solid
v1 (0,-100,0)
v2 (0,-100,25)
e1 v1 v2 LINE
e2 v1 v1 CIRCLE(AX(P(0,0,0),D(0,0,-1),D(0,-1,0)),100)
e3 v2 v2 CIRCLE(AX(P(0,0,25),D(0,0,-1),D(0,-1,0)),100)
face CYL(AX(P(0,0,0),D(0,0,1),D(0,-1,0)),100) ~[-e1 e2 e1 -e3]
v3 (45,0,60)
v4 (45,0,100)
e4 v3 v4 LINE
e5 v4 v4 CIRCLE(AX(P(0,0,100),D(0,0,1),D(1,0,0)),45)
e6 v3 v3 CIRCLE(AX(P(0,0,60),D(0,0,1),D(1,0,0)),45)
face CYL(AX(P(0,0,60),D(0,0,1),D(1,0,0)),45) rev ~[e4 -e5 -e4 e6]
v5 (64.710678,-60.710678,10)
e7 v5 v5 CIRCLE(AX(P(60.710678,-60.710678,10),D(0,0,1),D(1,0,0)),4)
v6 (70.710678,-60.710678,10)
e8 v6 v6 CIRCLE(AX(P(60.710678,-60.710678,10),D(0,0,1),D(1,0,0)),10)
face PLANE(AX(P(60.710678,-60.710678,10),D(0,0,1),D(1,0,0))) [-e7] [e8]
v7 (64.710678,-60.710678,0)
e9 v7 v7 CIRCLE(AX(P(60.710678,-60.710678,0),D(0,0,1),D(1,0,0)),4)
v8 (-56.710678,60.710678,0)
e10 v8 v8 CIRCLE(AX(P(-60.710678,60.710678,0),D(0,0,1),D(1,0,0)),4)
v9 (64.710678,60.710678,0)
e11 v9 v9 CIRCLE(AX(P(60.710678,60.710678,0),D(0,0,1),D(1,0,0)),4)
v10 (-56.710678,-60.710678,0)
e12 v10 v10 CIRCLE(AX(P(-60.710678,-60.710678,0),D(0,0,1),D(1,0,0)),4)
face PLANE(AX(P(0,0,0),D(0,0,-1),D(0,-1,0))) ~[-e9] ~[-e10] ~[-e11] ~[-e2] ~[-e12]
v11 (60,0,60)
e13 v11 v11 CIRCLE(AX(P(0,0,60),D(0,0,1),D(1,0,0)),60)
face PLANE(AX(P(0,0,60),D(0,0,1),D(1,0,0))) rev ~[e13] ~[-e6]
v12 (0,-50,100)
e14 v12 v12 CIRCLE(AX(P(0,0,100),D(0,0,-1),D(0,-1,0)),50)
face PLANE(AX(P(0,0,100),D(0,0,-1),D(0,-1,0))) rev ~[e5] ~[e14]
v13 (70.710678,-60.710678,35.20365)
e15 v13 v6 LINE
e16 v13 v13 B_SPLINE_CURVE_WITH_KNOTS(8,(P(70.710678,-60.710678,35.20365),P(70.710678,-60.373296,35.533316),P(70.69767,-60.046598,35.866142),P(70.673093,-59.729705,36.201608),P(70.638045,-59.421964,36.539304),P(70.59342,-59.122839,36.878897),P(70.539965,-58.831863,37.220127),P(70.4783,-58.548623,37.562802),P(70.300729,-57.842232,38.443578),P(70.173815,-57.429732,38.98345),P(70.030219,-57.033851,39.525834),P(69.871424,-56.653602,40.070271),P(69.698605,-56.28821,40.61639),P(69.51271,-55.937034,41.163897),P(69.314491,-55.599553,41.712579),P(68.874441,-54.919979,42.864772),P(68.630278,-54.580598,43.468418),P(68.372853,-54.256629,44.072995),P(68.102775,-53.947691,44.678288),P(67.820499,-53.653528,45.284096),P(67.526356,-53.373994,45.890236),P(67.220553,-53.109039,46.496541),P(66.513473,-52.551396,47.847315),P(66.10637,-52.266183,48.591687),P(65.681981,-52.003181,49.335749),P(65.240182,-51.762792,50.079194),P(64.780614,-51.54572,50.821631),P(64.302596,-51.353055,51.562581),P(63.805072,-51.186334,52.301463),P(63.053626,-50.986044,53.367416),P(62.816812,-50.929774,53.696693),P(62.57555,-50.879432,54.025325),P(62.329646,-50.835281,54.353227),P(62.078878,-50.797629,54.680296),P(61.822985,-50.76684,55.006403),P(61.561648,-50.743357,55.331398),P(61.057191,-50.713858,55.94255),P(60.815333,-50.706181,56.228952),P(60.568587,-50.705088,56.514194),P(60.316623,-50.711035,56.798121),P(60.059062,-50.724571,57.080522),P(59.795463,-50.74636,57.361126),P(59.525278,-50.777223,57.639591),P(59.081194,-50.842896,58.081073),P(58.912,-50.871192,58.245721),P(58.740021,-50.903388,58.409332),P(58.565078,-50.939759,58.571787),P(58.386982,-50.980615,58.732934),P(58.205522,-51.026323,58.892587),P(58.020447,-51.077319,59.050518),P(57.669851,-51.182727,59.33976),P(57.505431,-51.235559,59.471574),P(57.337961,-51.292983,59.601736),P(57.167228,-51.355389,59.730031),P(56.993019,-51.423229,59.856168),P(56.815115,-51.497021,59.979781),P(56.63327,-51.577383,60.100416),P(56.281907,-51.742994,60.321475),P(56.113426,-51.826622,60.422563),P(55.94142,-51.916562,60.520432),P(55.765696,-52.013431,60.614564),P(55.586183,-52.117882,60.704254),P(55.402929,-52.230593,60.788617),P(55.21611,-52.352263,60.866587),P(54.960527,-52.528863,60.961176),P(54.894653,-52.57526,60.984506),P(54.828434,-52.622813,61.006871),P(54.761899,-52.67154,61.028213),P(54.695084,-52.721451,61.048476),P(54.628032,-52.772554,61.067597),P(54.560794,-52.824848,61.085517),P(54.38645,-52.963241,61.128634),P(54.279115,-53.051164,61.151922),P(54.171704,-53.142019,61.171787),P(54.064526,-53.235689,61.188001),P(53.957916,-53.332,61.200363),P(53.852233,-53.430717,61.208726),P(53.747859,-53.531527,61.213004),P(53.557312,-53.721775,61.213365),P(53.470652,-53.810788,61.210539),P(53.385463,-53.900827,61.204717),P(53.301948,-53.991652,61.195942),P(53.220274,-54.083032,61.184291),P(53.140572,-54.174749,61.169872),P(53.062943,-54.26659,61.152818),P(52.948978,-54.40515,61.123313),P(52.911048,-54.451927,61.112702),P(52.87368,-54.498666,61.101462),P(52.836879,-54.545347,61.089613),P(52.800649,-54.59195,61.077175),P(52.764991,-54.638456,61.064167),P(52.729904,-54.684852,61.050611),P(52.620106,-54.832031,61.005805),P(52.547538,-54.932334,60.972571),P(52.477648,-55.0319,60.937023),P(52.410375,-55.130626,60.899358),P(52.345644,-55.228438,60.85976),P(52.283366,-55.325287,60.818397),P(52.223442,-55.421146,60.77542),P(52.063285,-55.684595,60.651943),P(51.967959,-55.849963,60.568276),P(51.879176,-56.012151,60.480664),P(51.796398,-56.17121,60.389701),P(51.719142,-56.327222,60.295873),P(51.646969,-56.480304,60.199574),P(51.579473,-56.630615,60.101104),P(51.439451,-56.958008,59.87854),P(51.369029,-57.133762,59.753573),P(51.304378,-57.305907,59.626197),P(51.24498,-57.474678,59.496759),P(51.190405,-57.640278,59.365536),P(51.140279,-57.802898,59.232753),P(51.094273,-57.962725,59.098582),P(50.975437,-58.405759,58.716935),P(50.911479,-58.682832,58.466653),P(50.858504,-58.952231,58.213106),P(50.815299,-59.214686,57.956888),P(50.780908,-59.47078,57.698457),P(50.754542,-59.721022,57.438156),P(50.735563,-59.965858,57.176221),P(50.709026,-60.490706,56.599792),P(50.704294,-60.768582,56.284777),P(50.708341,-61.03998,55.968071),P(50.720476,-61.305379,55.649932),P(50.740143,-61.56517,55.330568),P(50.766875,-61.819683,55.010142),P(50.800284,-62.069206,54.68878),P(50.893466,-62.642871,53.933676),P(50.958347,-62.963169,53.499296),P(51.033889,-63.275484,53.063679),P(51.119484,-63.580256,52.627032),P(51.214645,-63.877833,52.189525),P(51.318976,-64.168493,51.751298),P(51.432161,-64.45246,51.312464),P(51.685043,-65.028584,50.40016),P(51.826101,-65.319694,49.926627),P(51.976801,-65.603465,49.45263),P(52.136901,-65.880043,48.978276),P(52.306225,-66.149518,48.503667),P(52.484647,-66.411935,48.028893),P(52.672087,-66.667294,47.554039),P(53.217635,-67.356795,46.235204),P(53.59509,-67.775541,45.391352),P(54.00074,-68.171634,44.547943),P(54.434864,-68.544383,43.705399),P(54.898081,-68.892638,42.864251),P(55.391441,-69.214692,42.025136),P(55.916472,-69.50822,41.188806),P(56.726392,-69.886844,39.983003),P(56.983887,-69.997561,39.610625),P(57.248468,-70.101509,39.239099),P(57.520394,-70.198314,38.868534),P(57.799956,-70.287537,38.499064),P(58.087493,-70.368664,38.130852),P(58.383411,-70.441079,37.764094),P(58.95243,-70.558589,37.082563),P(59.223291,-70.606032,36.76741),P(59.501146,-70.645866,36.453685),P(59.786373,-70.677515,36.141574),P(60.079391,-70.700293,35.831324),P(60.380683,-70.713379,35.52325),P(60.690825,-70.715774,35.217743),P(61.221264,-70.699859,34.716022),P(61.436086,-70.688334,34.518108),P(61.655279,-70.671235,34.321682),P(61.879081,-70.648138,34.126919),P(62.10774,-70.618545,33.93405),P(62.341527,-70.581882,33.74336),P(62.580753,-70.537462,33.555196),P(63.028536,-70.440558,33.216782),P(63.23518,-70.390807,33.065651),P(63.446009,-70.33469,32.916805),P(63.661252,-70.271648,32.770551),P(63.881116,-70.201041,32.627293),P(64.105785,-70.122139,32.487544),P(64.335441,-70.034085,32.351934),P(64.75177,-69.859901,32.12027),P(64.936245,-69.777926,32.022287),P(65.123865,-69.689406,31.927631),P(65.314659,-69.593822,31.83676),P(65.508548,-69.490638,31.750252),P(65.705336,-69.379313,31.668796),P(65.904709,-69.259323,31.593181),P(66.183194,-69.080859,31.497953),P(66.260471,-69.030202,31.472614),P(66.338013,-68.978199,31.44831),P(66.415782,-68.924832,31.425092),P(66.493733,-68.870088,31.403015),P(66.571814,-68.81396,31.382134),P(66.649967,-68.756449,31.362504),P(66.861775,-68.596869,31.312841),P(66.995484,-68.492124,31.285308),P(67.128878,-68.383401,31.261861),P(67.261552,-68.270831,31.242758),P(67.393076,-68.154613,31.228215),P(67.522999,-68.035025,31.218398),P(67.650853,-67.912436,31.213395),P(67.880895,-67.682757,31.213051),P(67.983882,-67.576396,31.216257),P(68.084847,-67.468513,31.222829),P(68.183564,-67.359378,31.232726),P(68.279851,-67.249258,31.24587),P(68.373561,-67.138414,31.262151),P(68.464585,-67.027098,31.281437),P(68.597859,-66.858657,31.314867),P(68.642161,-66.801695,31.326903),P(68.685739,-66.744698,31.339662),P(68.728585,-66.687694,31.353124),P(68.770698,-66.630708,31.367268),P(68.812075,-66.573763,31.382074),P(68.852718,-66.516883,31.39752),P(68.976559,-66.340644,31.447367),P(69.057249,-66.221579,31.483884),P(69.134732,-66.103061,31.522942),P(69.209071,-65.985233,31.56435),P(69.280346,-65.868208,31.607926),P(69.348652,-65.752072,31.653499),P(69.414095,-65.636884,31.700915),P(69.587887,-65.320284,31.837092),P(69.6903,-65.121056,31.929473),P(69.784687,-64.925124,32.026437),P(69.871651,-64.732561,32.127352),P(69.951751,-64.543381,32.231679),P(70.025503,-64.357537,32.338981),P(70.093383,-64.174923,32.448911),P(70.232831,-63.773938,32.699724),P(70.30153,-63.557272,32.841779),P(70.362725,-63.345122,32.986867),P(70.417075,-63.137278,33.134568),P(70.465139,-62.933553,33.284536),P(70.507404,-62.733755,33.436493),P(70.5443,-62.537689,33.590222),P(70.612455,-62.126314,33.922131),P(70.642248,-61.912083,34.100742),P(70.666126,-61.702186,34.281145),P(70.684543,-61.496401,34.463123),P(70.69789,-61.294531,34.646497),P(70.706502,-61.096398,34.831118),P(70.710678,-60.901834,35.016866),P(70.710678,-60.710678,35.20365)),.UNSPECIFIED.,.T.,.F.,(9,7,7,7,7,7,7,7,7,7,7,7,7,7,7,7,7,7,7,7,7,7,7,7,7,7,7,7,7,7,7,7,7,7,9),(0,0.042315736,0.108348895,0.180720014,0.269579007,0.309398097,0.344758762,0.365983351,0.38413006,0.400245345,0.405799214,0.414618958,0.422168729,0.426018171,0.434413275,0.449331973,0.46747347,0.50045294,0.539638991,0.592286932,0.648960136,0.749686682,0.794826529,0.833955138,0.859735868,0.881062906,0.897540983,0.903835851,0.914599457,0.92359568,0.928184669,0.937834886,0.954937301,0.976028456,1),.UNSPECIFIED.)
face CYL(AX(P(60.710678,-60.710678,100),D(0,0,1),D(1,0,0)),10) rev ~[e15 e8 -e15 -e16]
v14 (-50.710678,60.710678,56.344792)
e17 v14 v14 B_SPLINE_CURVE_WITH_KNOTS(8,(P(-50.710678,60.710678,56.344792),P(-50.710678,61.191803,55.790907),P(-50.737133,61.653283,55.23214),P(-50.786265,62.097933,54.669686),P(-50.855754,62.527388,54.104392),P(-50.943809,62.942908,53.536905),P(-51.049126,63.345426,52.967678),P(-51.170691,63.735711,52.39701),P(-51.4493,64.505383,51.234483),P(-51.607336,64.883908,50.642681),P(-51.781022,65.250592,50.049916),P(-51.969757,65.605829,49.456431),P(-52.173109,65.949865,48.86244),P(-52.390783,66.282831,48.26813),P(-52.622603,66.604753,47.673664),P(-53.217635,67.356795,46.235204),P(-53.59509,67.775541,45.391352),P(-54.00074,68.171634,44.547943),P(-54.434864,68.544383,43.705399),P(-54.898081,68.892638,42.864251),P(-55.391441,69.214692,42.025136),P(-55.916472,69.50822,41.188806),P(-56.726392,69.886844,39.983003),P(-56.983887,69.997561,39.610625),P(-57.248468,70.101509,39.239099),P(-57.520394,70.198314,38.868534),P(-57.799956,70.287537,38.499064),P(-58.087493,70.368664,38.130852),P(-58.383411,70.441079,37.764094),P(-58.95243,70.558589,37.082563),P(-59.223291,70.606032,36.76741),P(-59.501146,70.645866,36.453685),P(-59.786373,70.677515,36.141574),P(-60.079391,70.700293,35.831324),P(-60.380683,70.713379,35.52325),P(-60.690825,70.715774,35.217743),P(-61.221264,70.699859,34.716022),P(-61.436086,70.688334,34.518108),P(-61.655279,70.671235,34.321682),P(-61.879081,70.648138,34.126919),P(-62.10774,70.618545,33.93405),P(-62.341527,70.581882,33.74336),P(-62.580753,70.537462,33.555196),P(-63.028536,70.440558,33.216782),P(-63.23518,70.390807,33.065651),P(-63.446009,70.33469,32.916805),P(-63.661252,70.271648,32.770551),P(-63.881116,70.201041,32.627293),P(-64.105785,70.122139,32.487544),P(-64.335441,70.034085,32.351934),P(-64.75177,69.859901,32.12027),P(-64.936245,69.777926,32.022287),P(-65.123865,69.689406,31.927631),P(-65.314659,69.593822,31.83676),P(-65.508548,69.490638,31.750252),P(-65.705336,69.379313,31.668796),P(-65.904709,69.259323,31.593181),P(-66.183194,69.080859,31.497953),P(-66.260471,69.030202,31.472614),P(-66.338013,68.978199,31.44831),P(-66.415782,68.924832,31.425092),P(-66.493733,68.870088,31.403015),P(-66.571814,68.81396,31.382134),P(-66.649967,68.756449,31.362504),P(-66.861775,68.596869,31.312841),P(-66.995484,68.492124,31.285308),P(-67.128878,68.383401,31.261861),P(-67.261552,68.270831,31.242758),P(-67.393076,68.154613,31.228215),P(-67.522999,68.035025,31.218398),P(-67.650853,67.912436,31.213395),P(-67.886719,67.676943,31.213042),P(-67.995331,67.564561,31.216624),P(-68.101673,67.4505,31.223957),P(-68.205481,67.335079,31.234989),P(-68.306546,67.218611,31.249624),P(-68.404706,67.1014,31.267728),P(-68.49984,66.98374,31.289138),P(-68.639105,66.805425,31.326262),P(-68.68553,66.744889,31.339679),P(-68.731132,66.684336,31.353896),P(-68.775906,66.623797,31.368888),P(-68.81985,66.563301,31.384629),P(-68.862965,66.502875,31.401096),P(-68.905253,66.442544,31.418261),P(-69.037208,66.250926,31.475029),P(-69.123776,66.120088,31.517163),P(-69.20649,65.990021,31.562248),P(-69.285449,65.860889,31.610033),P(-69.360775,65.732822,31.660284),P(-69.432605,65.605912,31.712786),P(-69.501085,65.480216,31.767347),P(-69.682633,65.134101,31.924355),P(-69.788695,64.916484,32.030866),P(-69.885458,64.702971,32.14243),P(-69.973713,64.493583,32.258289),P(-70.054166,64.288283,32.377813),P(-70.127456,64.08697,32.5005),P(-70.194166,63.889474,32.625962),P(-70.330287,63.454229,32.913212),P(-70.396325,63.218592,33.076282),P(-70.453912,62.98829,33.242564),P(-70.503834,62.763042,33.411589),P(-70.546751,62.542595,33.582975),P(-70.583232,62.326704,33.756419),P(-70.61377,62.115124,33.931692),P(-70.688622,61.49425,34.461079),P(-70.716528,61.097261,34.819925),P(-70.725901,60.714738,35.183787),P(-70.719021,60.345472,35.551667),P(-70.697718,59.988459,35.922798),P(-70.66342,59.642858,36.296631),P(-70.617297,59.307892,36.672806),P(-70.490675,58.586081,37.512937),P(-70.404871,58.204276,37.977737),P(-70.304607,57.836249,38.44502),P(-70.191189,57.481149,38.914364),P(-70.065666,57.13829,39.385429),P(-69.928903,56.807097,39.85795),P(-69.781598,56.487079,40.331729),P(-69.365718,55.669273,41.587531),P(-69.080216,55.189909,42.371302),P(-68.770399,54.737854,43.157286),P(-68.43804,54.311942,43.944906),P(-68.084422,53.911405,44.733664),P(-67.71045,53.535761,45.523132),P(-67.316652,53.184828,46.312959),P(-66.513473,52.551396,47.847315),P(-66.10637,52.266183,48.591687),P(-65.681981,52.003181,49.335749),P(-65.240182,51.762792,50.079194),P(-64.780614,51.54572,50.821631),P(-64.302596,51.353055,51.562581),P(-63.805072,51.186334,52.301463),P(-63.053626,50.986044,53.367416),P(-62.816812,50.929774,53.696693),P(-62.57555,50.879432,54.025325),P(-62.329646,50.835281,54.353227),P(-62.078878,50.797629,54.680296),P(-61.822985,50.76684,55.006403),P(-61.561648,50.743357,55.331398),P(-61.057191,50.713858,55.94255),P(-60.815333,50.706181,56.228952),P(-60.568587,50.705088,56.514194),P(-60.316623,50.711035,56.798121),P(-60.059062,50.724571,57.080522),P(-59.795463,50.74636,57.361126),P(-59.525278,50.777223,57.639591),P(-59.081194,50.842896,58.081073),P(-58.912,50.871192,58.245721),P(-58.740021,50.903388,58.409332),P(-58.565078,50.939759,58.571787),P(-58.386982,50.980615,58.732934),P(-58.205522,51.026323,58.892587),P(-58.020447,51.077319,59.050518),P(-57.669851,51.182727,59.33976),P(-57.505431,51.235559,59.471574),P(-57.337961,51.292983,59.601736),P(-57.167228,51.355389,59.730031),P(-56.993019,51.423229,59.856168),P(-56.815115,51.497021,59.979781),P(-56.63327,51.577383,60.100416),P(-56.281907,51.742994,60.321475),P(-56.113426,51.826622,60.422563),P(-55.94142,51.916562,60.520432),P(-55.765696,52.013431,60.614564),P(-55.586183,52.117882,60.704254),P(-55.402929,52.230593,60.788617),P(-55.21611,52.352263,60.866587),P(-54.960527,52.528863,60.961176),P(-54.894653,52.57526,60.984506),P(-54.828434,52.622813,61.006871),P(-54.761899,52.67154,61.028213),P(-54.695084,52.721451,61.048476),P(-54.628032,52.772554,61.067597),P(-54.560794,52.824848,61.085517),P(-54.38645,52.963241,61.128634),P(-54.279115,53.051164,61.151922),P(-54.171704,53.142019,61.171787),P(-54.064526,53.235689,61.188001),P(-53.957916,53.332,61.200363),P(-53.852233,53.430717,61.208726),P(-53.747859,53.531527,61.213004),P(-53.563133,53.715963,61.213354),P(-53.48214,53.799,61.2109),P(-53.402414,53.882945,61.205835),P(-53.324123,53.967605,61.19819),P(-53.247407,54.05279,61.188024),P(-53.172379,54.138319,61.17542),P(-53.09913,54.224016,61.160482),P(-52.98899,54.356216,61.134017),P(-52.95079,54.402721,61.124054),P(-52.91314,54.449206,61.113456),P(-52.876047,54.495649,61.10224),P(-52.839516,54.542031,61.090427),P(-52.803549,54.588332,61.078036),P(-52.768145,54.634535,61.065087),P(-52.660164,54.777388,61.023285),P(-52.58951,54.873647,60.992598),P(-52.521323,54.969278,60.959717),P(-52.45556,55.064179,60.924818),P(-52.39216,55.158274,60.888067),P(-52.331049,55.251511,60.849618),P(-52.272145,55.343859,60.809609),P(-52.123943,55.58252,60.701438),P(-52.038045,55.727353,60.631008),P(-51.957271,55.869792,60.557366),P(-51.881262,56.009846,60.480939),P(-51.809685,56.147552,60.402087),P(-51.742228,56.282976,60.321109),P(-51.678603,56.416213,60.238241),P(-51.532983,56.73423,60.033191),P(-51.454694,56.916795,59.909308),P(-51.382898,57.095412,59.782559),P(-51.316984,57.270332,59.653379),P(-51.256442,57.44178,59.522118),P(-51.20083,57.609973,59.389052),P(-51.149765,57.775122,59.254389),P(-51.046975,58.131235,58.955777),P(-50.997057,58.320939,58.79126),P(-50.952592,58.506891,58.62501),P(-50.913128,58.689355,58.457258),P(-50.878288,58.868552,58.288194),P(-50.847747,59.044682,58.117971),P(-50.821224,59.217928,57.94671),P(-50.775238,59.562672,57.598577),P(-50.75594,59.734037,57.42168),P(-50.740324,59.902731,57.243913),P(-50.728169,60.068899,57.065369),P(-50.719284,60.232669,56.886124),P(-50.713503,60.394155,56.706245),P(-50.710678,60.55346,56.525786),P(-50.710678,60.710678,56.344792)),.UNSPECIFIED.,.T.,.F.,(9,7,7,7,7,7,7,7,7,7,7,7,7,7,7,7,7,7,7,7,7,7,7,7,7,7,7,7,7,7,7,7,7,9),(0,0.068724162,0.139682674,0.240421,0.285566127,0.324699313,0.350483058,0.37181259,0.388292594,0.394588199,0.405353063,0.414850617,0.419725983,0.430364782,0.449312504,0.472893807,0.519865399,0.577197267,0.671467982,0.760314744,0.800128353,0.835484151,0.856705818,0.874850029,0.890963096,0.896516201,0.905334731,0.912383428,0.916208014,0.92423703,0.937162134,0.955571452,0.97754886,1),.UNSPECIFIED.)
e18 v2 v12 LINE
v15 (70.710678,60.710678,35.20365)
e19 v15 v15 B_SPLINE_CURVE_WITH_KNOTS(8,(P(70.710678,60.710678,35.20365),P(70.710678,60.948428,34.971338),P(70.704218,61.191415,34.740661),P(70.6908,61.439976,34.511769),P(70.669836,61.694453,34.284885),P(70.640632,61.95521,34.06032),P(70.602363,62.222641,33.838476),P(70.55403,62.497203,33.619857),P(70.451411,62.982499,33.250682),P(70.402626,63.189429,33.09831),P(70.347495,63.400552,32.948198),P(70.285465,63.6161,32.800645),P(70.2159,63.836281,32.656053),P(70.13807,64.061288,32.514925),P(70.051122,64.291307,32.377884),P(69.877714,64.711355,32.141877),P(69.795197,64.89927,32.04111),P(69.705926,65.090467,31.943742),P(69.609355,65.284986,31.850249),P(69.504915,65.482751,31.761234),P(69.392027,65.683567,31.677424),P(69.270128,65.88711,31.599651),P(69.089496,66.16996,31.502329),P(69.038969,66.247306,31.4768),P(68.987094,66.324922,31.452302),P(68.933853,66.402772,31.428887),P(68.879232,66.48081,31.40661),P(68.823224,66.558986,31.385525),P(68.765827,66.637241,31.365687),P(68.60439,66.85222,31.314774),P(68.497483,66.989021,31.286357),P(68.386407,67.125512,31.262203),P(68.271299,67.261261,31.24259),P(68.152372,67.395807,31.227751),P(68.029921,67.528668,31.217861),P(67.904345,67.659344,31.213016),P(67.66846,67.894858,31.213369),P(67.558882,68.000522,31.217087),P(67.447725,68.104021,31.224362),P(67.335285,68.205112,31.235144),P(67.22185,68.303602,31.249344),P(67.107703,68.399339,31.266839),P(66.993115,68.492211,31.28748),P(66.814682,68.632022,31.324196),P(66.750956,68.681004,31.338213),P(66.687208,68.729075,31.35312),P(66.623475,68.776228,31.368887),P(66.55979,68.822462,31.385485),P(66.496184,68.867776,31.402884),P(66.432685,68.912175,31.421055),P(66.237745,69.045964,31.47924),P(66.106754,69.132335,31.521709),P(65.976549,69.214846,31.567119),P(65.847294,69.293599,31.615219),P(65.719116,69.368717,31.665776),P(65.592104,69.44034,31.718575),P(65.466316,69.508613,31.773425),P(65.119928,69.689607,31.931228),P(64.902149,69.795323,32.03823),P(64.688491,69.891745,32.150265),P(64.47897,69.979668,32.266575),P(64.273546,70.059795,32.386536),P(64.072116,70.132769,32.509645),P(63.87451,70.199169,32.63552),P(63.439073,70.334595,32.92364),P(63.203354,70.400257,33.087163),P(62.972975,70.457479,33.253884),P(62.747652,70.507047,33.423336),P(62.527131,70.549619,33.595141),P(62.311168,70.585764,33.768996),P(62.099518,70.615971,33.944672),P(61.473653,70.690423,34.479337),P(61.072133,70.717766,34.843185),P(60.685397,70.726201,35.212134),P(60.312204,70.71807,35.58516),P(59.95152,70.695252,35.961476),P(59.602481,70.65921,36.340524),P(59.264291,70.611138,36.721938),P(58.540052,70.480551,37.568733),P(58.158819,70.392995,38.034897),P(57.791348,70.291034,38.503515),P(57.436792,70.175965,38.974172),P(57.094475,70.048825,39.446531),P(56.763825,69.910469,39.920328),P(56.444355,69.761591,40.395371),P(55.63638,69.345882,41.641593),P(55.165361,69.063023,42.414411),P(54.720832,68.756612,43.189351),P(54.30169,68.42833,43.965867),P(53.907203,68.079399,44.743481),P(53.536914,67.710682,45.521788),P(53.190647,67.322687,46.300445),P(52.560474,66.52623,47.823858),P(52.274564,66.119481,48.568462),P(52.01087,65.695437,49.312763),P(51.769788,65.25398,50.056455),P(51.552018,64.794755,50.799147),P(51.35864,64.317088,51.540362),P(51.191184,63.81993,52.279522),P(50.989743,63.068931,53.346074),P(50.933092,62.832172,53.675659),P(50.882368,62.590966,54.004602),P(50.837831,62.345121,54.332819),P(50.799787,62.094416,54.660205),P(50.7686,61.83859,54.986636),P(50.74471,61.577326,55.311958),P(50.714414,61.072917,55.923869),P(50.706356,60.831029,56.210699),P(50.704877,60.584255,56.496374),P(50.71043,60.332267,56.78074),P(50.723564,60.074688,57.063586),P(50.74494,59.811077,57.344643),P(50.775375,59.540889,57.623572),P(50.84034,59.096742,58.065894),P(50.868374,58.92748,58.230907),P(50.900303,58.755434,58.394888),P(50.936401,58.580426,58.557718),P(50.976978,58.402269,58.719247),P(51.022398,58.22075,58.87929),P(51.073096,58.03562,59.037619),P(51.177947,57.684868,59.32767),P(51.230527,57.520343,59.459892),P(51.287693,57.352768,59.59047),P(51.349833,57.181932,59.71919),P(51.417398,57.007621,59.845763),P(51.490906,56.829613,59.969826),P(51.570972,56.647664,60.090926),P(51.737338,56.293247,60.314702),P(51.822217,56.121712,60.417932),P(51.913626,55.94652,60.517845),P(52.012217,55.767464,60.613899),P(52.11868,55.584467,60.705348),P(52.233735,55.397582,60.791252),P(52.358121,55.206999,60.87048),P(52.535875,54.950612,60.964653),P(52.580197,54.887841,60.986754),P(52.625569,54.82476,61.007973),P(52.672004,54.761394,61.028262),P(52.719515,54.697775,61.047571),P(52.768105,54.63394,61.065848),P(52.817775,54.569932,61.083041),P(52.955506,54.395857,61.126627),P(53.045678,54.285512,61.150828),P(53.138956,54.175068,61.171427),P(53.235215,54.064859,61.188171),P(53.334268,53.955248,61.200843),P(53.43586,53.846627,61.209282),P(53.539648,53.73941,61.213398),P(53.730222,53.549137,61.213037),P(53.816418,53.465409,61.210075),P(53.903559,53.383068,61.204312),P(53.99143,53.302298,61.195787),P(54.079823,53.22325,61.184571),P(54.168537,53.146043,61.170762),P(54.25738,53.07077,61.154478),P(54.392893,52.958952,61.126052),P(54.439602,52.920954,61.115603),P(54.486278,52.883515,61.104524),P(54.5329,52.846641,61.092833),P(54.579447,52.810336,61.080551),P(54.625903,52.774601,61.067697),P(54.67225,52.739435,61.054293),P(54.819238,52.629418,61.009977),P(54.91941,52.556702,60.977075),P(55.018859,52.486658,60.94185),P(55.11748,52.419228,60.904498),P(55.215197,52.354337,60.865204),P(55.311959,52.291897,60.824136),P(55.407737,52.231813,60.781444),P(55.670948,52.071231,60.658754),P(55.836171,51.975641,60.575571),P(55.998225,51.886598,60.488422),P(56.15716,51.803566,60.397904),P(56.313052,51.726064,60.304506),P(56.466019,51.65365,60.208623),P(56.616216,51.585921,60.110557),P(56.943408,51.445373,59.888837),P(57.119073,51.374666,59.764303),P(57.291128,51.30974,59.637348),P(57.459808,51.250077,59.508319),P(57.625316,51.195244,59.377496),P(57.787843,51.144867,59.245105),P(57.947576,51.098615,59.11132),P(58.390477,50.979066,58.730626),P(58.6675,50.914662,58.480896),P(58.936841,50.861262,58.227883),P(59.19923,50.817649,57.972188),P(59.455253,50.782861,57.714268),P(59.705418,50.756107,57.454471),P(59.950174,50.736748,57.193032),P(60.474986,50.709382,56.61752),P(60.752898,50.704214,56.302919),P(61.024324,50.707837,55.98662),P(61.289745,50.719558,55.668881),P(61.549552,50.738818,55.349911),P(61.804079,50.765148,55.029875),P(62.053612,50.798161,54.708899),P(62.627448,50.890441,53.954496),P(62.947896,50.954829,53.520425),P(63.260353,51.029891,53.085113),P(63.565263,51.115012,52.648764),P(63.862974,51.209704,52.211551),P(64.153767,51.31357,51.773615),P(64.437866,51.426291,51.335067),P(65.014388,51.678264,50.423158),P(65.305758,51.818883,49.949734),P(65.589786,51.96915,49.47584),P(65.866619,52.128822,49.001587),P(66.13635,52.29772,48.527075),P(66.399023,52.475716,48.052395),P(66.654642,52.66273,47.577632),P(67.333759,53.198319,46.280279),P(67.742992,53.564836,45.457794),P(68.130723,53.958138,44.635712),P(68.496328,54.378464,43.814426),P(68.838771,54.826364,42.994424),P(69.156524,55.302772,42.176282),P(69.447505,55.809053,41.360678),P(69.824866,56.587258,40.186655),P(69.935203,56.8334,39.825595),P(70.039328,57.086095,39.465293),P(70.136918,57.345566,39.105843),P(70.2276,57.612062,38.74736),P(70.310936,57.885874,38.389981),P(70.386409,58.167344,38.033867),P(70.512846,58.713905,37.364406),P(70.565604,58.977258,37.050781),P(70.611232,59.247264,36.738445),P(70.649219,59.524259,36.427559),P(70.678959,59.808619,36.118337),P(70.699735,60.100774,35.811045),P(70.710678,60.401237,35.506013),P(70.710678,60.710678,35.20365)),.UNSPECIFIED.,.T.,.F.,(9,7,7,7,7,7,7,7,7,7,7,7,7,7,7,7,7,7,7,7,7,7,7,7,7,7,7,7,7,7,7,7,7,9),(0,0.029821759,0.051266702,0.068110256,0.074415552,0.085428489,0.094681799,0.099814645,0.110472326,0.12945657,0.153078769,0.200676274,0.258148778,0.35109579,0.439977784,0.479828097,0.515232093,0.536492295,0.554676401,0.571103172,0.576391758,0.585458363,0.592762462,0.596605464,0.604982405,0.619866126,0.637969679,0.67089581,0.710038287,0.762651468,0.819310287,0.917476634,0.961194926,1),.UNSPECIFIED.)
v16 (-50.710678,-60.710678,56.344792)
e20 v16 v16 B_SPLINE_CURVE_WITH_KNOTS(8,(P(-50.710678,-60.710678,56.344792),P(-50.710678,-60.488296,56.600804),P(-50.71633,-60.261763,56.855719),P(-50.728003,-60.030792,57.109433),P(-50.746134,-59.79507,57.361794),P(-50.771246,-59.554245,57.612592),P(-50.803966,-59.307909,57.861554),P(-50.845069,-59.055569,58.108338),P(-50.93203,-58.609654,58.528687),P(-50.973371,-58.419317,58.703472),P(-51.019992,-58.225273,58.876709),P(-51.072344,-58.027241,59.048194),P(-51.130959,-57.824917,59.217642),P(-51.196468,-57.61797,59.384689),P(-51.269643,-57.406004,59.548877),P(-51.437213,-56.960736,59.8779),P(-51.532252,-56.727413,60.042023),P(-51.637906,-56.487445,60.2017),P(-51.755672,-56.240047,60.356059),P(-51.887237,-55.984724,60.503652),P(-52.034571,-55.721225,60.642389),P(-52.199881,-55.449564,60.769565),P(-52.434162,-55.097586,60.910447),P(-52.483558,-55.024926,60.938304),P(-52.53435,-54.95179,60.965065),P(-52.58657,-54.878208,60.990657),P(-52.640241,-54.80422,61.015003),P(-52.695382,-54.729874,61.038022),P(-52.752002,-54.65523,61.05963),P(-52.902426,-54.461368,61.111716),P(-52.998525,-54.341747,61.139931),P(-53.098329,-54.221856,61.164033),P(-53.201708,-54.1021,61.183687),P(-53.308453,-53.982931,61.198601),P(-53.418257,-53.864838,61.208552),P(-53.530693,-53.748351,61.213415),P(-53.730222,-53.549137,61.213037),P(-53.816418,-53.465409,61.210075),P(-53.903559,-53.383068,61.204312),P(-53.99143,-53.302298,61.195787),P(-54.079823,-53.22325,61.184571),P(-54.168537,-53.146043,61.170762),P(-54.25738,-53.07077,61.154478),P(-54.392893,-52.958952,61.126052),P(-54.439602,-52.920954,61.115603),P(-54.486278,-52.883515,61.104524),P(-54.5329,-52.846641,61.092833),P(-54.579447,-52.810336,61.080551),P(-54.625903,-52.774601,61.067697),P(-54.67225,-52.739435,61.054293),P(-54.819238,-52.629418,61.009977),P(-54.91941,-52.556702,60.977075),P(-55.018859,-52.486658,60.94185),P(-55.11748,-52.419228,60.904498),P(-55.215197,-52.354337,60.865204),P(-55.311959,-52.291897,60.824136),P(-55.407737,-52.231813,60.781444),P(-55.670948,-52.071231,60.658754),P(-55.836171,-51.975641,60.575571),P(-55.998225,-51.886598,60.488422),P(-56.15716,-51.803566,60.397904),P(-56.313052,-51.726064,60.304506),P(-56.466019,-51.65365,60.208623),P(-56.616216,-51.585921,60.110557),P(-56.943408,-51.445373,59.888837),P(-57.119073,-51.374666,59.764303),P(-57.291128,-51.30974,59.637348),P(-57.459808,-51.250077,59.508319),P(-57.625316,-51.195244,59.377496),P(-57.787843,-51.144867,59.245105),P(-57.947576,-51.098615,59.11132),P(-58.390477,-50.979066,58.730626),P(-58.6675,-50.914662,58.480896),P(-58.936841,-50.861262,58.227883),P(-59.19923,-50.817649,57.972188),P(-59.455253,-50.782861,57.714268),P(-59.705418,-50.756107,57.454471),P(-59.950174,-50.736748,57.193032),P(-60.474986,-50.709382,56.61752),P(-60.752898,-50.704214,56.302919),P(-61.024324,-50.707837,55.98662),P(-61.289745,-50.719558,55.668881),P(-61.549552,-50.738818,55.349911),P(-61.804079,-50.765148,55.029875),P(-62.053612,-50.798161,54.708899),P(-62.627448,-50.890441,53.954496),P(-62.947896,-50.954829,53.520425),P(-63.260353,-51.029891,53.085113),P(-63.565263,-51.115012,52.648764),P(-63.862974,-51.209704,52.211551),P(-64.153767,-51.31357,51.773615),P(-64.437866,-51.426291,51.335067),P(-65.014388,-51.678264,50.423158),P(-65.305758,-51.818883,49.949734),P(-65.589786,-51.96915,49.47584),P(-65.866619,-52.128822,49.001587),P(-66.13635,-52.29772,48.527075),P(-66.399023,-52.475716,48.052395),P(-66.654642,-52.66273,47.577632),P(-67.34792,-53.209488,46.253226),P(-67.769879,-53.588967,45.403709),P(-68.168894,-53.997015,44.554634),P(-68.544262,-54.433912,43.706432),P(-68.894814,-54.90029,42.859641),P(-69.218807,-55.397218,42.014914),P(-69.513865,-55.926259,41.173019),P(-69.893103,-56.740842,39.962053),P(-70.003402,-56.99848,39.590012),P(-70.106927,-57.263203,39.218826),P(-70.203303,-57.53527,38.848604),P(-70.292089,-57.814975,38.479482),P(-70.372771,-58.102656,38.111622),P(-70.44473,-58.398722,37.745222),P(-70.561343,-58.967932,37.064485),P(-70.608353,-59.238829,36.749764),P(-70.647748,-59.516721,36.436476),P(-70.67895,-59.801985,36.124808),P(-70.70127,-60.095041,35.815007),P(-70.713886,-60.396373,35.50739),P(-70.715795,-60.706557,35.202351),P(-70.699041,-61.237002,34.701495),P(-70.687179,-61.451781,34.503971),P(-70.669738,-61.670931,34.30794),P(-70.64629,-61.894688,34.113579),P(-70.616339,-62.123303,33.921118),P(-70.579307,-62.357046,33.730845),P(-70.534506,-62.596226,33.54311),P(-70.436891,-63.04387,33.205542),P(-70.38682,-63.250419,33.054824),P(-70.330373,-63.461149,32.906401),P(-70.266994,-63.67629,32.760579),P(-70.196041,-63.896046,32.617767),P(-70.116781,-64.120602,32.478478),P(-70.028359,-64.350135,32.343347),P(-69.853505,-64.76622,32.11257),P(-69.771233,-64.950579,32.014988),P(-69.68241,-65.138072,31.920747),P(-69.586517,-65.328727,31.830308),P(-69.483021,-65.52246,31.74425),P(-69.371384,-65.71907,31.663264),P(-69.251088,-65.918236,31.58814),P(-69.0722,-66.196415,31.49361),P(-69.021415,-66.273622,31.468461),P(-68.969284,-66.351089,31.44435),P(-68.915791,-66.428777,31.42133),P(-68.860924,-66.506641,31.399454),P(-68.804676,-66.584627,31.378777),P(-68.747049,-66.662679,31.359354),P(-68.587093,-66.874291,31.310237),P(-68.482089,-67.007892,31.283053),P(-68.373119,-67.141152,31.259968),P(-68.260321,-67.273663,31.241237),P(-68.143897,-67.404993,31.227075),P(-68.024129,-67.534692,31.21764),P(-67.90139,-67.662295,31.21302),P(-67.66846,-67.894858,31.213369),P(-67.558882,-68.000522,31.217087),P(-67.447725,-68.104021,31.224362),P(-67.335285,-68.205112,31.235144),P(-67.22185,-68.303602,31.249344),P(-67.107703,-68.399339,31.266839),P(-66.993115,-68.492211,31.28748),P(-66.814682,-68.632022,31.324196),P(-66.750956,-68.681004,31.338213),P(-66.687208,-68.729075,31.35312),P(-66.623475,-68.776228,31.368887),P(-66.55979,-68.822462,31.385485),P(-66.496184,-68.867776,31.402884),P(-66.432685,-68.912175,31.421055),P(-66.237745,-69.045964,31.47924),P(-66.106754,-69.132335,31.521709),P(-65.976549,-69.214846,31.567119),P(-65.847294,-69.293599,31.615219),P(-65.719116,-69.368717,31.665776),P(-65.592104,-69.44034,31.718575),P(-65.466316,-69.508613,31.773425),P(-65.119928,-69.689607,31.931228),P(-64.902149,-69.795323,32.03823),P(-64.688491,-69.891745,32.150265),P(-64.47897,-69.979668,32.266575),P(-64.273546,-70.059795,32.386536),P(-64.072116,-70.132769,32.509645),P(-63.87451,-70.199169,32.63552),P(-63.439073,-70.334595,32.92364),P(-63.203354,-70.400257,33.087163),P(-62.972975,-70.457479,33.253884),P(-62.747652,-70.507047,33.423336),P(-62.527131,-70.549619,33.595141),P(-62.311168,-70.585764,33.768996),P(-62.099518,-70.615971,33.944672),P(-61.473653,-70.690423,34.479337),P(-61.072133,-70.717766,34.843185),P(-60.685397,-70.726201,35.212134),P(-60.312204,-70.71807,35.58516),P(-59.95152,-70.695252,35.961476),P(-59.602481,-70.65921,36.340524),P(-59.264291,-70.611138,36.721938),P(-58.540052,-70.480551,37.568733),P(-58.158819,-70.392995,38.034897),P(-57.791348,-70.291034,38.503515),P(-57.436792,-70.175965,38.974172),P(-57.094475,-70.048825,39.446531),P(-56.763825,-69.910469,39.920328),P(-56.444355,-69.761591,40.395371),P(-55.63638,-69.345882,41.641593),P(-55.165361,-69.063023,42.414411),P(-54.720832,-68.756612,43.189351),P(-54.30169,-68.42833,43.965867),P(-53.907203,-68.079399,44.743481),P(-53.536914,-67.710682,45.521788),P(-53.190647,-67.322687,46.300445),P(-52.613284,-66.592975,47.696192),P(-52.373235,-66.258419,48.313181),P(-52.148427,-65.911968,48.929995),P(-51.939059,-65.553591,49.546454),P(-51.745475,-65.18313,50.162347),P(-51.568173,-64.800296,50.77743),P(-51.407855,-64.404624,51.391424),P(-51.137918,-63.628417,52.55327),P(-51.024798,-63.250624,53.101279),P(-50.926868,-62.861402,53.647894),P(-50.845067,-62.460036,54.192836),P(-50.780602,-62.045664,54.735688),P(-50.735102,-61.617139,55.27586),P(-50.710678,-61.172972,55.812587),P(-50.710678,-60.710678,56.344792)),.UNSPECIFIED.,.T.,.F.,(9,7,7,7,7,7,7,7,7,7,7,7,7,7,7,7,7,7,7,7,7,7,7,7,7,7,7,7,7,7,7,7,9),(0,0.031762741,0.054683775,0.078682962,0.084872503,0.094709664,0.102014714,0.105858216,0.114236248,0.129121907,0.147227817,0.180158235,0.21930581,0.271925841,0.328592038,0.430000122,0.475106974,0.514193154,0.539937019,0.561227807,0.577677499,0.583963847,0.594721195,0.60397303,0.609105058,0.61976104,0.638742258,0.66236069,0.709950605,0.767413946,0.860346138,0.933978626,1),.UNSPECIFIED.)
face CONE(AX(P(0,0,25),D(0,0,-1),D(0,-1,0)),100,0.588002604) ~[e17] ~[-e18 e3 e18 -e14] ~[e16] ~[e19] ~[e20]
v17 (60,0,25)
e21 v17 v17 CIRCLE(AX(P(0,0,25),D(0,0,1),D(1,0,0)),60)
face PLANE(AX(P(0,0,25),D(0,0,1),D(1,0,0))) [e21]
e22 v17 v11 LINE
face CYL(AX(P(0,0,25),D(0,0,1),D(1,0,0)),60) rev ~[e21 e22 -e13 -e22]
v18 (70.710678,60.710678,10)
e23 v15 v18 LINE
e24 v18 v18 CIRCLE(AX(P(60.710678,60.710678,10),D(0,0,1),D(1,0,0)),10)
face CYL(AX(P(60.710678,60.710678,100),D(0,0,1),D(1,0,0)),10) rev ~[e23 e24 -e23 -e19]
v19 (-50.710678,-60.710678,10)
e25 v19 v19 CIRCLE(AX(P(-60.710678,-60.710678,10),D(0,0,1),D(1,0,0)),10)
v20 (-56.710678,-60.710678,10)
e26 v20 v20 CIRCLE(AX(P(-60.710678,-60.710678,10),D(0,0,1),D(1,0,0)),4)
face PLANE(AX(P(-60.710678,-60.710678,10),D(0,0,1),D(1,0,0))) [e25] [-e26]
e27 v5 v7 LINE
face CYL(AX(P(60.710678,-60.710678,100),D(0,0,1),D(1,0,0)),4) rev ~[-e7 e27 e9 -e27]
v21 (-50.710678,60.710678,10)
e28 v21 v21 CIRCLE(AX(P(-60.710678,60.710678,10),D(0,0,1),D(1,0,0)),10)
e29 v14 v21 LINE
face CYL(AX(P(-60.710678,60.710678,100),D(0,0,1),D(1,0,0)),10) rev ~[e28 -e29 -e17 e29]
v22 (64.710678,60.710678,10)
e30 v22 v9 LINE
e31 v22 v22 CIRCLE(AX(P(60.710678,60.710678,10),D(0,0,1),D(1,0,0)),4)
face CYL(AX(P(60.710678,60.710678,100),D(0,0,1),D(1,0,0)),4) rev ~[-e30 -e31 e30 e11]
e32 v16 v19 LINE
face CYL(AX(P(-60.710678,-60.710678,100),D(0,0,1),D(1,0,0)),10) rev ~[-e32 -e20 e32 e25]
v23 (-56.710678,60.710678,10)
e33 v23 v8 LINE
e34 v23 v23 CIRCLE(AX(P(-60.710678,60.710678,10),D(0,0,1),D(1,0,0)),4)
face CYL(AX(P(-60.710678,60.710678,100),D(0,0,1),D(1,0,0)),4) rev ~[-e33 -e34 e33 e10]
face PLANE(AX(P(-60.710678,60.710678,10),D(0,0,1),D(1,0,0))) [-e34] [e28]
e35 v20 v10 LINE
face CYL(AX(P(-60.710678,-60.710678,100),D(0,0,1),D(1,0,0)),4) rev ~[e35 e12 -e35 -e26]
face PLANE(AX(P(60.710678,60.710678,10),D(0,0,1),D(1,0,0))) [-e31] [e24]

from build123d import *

# Parameters (mm, degrees)
SKETCH8_R          = 4
CUT_EXTRUDE1_DEPTH = 121
SKETCH8_9_R        = 10
CUT_EXTRUDE2_DEPTH = 90


with BuildPart() as part:
    # Sketch6 → Revolve1 (revolve)
    with BuildSketch(Plane.YZ):
        Polygon((0, 0), (-100, 0), (-100, 25), (-50, 100), (0, 100), align=None)
    revolve(axis=Axis((0, 0, 100), (0, 0, -1)))

    # Sketch7 → Cut-Revolve1 (revolve, cut)
    with BuildSketch(Plane(origin=(0, 0, 0), x_dir=(-1, 0, 0), z_dir=(0, 1, 0))):
        Polygon((0, 25), (-45, 25), (-60, 25), (-60, 60), (-45, 60), (-45, 100), (0, 100), align=None)
    revolve(axis=Axis((0, 0, 25), (0, 0, 1)), mode=Mode.SUBTRACT)

    # Sketch8 → Cut-Extrude1 (cut)
    with BuildSketch(Plane.XY.offset(100)):
        with Locations((-60.710678119, 60.710678119)):
            Circle(SKETCH8_R)
        with Locations((60.710678119, 60.710678119)):
            Circle(SKETCH8_R)
        with Locations((60.710678119, -60.710678119)):
            Circle(SKETCH8_R)
        with Locations((-60.710678119, -60.710678119)):
            Circle(SKETCH8_R)
    extrude(amount=-CUT_EXTRUDE1_DEPTH, mode=Mode.SUBTRACT)

    # Sketch8<9> → Cut-Extrude2 (cut)
    with BuildSketch(Plane.XY.offset(100)):
        with Locations((-60.710678119, 60.710678119)):
            Circle(SKETCH8_9_R)
        with Locations((60.710678119, 60.710678119)):
            Circle(SKETCH8_9_R)
        with Locations((60.710678119, -60.710678119)):
            Circle(SKETCH8_9_R)
        with Locations((-60.710678119, -60.710678119)):
            Circle(SKETCH8_9_R)
    extrude(amount=-CUT_EXTRUDE2_DEPTH, mode=Mode.SUBTRACT)


solid = part.part
